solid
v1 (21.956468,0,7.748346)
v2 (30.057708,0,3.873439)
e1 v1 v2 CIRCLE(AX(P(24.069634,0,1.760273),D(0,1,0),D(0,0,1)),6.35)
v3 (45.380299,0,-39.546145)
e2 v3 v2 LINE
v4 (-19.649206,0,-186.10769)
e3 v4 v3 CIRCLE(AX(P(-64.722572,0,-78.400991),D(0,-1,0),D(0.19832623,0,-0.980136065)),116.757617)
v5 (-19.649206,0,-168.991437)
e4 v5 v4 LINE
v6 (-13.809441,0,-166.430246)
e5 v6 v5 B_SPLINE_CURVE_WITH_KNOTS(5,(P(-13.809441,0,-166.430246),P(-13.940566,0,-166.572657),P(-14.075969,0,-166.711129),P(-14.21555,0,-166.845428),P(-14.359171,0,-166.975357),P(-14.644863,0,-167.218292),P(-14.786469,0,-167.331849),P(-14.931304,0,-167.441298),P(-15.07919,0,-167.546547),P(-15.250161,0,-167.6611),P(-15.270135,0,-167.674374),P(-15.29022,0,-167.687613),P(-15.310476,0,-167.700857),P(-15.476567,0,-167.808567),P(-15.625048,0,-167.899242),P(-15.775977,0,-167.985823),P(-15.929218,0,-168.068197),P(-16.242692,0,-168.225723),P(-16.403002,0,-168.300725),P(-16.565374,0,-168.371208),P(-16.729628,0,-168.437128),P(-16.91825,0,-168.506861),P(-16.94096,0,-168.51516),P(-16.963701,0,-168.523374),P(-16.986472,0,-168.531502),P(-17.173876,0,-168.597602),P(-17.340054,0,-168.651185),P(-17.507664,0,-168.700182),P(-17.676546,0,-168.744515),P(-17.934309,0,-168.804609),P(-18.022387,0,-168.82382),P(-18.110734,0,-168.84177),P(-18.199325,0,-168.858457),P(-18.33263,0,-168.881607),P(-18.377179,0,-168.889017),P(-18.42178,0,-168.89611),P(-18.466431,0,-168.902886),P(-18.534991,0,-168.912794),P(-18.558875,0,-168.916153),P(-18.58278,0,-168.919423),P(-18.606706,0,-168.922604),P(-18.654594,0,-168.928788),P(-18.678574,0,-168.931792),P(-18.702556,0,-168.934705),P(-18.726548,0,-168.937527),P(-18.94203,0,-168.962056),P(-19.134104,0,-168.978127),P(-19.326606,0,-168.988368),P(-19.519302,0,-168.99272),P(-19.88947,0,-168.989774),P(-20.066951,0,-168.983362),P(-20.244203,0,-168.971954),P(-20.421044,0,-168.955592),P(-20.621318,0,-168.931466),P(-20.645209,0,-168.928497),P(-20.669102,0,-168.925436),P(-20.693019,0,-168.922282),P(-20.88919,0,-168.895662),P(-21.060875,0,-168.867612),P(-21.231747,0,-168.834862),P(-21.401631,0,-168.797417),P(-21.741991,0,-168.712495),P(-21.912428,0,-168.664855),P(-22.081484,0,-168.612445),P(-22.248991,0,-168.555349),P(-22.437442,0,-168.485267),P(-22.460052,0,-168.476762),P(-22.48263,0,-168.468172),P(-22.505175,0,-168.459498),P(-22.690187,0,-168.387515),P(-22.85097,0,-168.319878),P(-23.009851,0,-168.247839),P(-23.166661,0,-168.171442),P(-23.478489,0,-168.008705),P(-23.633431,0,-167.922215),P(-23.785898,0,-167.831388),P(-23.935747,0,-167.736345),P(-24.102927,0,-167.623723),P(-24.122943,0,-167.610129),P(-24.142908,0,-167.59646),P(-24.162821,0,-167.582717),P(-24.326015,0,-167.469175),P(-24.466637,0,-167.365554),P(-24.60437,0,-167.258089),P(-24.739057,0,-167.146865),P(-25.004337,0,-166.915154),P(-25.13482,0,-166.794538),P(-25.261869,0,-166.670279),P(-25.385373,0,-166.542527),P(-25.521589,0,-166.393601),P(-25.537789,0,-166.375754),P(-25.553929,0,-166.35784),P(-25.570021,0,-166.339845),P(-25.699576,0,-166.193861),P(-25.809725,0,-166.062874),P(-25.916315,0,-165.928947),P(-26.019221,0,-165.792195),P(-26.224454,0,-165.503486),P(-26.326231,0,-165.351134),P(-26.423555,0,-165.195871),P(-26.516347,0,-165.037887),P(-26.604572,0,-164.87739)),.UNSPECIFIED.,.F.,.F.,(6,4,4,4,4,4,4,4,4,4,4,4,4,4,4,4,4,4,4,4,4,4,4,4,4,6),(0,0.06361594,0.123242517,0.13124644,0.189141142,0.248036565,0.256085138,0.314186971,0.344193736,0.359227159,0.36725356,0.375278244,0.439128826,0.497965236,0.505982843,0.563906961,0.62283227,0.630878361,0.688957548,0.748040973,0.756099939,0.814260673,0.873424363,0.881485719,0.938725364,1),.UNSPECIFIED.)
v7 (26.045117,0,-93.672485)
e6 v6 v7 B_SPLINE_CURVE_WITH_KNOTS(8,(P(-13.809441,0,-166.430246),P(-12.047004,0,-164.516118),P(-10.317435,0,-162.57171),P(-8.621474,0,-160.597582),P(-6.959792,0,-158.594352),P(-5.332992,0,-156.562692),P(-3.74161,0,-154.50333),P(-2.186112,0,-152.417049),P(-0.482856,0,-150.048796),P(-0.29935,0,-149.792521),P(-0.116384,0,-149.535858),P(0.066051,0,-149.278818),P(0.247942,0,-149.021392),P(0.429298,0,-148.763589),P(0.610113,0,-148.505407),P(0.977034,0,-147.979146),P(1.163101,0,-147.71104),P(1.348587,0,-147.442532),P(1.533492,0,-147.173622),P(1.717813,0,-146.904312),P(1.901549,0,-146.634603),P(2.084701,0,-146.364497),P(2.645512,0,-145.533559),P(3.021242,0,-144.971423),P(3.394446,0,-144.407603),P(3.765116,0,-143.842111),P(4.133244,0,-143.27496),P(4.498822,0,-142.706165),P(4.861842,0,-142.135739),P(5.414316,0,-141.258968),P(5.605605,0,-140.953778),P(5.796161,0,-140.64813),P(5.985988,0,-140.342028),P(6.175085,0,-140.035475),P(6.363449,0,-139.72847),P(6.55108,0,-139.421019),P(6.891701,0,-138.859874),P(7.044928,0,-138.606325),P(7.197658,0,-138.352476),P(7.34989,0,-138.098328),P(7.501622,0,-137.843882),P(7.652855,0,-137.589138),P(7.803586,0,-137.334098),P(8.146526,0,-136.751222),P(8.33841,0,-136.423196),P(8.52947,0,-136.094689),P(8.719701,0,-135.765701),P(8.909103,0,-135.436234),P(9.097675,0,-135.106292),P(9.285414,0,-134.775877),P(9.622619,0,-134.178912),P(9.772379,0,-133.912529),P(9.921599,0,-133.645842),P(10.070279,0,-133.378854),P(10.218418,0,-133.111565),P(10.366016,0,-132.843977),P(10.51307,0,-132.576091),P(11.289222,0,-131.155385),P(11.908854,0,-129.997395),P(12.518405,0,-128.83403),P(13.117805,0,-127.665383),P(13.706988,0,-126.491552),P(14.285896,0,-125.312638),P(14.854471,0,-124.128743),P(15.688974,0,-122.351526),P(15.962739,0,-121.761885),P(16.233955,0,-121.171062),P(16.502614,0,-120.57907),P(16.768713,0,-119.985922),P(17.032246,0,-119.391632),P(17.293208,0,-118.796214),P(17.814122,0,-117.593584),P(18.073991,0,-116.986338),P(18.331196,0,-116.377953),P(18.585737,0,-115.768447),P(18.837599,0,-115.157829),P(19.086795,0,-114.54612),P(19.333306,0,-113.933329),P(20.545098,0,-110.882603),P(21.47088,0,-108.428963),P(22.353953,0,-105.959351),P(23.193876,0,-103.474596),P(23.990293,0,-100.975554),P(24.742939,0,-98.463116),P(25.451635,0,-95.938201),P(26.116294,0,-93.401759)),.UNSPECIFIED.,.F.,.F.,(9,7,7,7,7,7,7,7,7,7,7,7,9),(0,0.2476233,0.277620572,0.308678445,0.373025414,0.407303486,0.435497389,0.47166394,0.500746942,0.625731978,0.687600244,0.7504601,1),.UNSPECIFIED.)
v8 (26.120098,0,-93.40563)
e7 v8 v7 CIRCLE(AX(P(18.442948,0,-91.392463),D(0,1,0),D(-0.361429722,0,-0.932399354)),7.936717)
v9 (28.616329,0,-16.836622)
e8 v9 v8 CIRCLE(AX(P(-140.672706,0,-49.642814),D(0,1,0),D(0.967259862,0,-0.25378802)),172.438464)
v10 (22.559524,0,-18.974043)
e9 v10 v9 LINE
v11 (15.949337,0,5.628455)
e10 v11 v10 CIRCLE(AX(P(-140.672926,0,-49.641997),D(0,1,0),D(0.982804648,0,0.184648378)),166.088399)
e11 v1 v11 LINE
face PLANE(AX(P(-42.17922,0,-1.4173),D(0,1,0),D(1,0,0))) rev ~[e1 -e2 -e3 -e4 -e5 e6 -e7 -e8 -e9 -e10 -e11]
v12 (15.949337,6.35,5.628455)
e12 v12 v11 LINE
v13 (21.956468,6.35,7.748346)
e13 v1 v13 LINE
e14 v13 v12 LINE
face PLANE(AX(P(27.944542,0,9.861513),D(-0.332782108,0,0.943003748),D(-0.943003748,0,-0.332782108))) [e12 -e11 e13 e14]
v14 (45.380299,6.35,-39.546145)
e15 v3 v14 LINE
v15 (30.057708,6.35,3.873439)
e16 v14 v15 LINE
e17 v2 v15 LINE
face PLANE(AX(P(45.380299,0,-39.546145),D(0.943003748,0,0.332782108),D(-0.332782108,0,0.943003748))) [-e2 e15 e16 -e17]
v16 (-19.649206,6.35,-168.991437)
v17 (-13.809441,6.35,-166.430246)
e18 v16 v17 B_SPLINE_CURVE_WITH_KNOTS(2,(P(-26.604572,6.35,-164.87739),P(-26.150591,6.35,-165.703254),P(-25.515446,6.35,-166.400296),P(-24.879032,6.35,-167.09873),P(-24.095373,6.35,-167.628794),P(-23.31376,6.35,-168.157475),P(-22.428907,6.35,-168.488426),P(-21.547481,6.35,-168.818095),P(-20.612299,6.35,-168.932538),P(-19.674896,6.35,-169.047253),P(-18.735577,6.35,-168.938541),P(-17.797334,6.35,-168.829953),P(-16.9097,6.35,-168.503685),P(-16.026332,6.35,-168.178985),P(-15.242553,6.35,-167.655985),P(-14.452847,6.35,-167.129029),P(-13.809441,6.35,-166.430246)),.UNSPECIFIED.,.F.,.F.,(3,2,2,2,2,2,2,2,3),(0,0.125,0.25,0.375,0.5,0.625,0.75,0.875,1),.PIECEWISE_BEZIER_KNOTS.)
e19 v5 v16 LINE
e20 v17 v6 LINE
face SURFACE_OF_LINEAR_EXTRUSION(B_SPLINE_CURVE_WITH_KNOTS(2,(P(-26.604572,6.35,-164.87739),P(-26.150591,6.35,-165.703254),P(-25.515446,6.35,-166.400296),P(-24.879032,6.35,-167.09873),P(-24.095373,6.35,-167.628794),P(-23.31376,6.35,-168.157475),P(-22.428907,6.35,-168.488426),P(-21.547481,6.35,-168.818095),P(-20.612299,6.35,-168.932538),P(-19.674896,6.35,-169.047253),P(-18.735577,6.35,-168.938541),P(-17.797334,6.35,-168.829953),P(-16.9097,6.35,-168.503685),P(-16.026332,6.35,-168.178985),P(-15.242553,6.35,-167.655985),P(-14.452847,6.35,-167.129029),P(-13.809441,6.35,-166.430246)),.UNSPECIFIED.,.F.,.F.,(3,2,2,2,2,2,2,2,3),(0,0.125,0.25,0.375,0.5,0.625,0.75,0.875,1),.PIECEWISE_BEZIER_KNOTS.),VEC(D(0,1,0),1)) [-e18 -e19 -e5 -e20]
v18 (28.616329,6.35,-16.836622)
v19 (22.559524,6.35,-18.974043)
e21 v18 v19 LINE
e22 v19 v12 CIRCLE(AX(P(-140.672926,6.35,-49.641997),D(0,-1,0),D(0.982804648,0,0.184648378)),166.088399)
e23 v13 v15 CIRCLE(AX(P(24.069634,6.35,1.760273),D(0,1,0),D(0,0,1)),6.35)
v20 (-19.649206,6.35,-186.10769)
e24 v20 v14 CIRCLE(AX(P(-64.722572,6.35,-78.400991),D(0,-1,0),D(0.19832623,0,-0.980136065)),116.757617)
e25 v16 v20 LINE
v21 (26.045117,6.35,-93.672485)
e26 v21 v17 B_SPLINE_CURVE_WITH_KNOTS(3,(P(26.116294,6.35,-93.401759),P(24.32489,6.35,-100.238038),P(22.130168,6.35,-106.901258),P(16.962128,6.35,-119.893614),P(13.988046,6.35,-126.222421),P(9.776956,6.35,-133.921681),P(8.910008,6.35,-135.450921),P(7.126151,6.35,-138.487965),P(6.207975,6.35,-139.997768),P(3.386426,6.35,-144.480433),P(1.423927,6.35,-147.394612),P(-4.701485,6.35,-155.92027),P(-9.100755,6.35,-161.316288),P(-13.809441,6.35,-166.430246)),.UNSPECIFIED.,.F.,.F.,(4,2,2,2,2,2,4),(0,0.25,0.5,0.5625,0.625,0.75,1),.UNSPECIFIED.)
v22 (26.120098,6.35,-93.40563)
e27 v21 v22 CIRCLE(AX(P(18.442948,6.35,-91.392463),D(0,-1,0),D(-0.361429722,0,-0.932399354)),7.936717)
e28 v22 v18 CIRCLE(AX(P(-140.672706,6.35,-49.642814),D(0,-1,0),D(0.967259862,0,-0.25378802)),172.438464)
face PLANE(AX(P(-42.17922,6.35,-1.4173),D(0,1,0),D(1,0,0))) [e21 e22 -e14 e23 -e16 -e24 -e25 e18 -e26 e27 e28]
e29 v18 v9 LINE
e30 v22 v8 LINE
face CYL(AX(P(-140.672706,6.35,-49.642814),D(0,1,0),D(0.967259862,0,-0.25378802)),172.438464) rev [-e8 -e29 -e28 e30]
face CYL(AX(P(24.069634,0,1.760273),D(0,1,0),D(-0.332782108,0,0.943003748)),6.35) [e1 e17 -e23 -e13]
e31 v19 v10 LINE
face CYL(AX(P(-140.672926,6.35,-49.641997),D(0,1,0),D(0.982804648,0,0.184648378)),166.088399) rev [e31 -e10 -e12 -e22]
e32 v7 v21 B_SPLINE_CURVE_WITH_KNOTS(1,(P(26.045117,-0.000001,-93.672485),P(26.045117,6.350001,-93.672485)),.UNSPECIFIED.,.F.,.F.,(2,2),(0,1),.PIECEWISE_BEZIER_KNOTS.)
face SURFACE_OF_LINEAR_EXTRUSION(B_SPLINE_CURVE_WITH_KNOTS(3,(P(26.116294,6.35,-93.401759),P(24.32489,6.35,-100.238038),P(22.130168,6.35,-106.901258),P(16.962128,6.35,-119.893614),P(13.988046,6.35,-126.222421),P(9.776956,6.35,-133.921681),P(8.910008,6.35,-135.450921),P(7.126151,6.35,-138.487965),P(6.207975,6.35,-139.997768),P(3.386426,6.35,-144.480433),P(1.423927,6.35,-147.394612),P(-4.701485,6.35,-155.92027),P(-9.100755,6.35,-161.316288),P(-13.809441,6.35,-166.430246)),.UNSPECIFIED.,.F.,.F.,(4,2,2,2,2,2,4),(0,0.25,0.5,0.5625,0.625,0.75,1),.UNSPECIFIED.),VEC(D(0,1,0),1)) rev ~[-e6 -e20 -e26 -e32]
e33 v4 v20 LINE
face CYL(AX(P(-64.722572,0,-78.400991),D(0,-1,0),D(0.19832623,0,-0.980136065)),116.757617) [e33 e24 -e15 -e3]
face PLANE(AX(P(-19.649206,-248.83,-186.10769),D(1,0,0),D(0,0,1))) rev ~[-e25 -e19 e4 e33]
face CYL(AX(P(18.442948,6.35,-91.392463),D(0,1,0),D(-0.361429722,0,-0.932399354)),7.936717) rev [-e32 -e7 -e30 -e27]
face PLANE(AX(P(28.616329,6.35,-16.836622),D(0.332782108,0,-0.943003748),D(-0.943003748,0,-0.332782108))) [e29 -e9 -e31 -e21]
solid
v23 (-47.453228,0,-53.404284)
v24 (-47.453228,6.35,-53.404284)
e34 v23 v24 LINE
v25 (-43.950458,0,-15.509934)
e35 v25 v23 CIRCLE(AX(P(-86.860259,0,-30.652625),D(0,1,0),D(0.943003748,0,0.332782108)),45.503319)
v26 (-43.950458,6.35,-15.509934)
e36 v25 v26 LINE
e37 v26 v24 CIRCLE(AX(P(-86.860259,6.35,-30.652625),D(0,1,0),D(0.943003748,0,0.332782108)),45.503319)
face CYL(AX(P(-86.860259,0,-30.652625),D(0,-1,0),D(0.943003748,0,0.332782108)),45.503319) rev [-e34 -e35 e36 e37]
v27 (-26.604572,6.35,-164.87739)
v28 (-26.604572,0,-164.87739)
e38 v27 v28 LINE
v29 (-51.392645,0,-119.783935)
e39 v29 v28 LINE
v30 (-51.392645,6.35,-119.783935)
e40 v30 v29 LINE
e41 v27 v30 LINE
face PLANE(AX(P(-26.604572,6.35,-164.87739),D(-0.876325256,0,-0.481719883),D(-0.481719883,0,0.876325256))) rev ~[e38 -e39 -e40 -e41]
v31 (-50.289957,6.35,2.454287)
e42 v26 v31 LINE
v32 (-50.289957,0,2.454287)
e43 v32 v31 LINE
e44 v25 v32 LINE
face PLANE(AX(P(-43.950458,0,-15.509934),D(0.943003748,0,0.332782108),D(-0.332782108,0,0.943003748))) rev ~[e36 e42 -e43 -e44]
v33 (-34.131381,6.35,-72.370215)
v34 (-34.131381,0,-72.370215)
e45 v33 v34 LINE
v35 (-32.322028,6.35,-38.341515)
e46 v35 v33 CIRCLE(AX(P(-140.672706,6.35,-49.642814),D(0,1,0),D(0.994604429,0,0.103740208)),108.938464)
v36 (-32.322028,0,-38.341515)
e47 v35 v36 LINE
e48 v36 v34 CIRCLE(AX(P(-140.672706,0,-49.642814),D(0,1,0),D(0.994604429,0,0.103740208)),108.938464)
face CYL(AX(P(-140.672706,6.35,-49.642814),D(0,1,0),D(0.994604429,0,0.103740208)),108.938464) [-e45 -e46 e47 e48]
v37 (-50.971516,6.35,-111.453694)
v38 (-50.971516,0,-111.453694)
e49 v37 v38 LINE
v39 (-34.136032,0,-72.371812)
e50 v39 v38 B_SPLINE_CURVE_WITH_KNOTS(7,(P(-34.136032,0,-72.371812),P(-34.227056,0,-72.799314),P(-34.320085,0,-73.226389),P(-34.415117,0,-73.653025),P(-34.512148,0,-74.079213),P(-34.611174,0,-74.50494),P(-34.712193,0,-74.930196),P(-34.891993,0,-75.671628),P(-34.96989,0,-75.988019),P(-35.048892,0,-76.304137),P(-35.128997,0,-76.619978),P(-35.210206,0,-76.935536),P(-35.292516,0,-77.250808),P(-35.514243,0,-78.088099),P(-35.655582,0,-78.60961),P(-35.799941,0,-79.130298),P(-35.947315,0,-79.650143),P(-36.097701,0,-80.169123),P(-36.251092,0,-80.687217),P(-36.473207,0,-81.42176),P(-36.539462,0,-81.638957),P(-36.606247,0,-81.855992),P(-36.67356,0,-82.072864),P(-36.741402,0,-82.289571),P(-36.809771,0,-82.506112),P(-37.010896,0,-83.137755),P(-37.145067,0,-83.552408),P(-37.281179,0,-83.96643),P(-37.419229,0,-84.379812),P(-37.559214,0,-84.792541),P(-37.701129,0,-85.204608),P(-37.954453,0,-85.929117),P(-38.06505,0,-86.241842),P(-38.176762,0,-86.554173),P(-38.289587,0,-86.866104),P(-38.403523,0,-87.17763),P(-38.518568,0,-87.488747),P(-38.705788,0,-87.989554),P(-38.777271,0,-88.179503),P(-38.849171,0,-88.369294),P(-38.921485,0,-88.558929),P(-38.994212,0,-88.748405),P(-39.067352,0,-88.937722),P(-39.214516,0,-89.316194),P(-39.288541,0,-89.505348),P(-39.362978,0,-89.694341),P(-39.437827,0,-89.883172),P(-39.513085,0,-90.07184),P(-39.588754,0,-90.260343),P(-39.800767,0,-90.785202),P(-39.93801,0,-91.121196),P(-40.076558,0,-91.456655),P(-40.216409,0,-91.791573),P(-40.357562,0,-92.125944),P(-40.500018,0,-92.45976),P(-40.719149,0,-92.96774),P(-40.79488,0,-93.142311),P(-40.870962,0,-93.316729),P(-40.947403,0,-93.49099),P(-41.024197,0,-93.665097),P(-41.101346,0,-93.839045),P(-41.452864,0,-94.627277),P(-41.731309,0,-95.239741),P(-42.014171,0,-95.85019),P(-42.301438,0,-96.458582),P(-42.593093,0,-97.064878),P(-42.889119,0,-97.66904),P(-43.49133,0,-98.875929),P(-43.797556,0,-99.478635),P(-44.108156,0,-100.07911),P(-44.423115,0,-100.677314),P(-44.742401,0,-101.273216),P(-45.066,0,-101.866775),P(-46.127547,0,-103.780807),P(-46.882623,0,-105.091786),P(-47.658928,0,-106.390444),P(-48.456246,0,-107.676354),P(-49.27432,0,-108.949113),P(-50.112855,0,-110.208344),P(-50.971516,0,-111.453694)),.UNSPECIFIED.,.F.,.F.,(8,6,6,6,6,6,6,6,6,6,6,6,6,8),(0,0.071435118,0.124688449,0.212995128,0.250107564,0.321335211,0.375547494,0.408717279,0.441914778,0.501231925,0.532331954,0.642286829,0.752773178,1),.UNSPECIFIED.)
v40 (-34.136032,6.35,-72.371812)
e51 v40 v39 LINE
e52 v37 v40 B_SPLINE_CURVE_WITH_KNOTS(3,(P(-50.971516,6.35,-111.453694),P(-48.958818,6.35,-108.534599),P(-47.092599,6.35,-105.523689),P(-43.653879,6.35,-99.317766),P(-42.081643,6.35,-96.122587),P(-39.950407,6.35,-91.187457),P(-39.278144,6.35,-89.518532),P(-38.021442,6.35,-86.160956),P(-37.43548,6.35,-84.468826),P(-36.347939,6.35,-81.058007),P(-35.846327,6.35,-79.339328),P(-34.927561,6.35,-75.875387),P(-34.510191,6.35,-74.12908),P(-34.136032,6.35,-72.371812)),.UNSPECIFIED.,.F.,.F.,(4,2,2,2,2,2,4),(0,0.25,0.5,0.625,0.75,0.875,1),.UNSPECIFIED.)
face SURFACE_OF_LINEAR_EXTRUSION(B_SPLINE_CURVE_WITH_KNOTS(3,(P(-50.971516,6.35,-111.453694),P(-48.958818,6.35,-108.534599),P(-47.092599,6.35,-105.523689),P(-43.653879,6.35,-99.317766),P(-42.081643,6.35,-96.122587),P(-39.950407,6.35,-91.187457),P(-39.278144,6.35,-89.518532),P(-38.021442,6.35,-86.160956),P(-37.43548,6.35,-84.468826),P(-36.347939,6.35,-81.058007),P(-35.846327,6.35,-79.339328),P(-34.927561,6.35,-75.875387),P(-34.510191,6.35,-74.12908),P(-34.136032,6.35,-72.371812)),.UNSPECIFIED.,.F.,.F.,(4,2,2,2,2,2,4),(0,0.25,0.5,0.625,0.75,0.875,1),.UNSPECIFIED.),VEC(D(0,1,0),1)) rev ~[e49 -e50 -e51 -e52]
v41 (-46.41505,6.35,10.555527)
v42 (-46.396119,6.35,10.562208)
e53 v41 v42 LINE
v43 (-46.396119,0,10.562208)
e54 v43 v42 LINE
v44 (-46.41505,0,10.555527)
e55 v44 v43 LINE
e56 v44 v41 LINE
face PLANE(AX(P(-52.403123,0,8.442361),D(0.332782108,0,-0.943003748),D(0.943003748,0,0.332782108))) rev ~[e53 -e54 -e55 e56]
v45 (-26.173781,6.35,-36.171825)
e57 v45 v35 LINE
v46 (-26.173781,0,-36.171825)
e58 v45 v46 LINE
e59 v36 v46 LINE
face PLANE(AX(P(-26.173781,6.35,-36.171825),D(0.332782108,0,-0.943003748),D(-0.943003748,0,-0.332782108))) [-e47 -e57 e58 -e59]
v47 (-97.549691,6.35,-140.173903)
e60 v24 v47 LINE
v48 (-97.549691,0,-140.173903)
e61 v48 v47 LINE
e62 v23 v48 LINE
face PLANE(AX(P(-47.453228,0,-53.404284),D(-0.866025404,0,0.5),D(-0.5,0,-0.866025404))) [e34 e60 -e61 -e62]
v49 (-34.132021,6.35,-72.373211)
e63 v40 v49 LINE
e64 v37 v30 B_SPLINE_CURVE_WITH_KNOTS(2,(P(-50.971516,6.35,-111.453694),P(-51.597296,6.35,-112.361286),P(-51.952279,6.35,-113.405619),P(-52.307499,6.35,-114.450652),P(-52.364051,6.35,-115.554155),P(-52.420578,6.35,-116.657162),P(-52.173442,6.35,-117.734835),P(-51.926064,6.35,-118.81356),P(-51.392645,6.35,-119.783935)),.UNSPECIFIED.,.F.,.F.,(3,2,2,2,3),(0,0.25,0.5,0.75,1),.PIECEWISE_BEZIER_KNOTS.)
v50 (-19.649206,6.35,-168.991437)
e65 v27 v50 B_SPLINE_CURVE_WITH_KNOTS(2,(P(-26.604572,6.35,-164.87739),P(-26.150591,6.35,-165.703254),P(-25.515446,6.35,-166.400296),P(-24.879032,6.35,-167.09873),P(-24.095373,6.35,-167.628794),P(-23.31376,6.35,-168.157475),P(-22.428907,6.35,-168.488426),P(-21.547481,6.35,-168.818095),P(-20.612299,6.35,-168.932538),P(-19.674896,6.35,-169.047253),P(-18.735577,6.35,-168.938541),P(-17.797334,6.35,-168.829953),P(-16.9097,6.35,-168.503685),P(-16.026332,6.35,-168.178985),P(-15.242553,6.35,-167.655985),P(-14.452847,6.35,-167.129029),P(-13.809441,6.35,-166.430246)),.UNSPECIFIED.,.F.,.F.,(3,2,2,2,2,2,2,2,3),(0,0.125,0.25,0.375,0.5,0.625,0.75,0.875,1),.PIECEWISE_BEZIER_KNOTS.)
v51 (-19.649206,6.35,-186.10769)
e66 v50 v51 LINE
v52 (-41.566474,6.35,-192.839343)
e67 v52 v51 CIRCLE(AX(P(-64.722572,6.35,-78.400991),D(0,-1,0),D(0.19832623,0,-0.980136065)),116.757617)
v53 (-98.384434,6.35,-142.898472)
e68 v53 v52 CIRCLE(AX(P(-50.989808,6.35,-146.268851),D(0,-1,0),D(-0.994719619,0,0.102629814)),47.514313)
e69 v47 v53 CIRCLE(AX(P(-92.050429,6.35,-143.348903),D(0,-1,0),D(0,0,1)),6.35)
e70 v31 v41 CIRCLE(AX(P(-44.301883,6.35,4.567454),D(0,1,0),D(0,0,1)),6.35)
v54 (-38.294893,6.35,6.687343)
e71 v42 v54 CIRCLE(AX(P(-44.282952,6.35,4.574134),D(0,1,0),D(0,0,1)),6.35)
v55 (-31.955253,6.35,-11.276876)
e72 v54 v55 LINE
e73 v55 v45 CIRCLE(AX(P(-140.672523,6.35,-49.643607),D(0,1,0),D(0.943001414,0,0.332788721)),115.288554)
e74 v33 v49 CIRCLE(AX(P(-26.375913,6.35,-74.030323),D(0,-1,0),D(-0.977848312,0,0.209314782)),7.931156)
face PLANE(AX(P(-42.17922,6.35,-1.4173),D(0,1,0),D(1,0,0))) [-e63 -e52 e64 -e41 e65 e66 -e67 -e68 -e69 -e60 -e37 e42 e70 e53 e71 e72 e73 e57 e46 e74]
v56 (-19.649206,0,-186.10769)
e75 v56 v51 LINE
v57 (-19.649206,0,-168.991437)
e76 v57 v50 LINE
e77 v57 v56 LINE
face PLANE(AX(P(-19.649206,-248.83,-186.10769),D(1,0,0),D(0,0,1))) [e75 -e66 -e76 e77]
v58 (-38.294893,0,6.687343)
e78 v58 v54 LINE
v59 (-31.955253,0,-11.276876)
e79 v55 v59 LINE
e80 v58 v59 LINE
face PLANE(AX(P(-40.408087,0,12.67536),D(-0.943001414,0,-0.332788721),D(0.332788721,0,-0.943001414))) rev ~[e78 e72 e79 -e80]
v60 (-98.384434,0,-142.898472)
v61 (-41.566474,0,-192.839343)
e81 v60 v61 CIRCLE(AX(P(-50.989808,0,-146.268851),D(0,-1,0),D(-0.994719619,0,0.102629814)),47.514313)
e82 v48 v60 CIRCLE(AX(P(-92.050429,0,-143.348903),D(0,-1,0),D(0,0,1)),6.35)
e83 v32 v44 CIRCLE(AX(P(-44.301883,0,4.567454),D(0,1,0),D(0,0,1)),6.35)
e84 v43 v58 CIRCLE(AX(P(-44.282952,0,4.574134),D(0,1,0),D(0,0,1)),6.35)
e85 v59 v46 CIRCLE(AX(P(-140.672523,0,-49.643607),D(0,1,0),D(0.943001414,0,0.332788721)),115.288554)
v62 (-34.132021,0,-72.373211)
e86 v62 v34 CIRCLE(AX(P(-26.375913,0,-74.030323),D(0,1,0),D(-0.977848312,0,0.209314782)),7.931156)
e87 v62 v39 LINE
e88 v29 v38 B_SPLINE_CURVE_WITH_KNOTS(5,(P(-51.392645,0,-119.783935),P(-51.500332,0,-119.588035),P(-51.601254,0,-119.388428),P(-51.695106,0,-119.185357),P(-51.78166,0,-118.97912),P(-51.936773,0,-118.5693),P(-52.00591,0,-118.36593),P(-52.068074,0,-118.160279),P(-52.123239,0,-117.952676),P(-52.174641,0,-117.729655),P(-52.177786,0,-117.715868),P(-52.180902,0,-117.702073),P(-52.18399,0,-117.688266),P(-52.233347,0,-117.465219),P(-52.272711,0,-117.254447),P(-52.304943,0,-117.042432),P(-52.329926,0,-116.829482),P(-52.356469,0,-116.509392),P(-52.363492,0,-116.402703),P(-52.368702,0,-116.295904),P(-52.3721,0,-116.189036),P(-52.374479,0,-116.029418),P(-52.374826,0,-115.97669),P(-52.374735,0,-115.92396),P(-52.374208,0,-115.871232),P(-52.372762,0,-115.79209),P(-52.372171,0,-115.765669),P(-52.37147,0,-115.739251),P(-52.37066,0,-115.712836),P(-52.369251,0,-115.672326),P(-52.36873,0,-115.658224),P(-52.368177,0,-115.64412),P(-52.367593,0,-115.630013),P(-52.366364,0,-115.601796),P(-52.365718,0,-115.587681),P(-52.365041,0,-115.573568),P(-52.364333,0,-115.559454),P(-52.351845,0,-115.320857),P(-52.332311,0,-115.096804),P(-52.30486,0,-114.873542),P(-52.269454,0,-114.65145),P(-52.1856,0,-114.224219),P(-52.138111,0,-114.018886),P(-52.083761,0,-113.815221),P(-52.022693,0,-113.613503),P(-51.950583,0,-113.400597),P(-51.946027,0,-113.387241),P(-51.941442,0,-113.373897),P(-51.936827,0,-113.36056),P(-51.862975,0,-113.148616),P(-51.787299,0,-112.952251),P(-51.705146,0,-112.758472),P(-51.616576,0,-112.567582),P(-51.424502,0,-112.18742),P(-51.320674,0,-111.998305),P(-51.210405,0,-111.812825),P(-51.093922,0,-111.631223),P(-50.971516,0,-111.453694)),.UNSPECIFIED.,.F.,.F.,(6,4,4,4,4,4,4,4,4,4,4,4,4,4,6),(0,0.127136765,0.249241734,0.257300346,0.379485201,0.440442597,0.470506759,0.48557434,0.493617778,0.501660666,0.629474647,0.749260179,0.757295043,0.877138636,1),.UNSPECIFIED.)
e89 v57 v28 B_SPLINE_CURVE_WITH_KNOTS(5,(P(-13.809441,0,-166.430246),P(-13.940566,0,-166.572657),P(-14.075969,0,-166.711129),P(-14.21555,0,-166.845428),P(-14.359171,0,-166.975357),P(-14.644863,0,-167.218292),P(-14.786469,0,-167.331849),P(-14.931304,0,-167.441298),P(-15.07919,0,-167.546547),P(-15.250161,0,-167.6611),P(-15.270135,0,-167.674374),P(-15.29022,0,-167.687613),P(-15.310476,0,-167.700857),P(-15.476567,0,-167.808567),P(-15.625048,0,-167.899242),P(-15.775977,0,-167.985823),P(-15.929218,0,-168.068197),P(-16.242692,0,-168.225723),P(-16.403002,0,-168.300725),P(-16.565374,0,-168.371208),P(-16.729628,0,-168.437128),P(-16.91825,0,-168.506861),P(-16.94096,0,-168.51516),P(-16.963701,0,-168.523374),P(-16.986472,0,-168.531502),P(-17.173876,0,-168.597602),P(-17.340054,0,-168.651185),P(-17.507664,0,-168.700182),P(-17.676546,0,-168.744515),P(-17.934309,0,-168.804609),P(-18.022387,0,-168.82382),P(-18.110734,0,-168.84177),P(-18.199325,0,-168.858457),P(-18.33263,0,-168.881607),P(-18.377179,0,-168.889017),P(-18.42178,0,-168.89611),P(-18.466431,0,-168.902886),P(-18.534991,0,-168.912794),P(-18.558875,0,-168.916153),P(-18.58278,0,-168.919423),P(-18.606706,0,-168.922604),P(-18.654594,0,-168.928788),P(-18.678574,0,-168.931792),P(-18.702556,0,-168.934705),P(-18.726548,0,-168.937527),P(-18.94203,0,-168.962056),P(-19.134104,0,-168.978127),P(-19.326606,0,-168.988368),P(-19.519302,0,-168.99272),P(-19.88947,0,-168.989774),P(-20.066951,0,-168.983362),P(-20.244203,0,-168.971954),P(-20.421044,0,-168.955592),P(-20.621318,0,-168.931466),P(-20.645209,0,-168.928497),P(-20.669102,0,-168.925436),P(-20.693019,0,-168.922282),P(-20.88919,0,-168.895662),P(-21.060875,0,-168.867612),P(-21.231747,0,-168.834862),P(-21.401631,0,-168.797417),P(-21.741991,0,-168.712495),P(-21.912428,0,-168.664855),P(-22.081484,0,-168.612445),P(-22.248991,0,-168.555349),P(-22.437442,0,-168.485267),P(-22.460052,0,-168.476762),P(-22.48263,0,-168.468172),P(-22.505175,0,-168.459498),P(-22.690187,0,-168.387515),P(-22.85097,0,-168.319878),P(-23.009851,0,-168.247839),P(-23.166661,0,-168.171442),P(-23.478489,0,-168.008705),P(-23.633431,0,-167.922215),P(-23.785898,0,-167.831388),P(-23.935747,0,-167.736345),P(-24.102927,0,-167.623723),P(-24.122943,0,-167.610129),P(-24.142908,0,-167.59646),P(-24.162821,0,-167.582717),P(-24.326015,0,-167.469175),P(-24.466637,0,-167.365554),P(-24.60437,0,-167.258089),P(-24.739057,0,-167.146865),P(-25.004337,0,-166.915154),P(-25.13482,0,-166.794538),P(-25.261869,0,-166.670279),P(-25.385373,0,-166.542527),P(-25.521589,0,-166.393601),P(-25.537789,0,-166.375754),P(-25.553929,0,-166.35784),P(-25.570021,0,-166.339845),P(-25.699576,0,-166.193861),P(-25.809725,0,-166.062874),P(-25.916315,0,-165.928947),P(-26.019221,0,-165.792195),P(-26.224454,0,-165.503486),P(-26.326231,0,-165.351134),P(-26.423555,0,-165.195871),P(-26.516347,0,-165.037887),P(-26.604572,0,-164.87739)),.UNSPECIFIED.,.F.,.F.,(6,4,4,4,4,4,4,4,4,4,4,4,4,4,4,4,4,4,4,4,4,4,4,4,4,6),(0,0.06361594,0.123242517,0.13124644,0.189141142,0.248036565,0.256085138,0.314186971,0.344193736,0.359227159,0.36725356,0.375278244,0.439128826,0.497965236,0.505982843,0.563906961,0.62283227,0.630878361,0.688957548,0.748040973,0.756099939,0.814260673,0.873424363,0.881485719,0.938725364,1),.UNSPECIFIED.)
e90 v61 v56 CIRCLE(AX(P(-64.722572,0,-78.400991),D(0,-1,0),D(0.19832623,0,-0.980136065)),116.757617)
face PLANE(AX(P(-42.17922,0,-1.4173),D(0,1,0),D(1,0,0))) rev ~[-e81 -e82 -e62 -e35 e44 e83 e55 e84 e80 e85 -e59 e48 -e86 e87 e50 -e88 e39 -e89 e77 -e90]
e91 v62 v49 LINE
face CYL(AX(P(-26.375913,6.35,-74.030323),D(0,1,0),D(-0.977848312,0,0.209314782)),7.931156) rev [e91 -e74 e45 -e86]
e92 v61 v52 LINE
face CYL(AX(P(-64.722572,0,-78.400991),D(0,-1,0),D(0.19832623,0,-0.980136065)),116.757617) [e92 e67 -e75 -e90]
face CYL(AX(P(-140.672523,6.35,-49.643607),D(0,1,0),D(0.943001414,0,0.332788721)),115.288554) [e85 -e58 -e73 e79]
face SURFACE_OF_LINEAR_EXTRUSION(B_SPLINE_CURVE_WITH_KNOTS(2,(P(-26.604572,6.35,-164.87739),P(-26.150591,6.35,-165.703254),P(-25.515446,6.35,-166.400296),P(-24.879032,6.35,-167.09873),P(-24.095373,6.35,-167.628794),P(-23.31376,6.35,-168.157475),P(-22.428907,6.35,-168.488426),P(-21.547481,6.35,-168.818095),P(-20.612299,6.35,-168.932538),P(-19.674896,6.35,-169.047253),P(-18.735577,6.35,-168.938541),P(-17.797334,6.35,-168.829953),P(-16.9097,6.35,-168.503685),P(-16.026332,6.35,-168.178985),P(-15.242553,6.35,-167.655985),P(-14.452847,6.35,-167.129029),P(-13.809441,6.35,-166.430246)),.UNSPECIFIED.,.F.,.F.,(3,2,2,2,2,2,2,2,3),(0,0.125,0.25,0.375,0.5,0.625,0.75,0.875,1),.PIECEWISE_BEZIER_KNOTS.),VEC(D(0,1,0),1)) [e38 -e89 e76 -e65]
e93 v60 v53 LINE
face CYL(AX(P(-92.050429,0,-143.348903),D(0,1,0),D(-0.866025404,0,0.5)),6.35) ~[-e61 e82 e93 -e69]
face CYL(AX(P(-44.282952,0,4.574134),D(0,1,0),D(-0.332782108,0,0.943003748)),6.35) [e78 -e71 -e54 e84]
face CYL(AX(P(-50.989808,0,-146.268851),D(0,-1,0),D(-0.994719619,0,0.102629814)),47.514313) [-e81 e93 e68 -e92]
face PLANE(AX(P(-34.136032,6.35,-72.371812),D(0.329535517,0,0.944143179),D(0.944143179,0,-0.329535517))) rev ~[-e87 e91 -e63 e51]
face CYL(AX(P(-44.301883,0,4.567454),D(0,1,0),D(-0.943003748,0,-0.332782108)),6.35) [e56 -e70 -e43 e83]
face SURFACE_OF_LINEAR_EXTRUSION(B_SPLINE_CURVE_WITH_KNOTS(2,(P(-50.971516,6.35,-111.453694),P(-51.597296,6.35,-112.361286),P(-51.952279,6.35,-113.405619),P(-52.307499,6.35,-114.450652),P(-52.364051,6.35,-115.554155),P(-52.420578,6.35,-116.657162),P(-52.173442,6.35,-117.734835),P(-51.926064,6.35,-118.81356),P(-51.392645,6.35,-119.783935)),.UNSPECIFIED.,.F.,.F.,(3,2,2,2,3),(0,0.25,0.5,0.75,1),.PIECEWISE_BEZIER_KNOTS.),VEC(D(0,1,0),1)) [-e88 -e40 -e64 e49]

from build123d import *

# Parameters (mm, degrees)
BOSS_EXTRUDE1_DEPTH    = 6.35
CUT_EXTRUDE1_DEPTH     = 218.474824132
CUT_EXTRUDE2_DEPTH     = 218.474824132
BOSS_EXTRUDE2_DEPTH    = 6.35
FILLET1_R              = 6.35
SPLIT1_SURFACE_1_BACK  = 255.18
SPLIT1_SURFACE_1_DEPTH = 510.36
SPLIT1_SURFACE_2_BACK  = 255.18
SPLIT1_SURFACE_2_DEPTH = 510.36


with BuildPart() as part:
    # Sketch1 → Boss-Extrude1 (new body)
    with BuildSketch(Plane(origin=(0, 0, 0), x_dir=(1, 0, 0), z_dir=(0, 1, 0))):
        with BuildLine():
            Line((-47.453228006, 53.404284402), (-98.253228006, 141.392465427))
            ThreePointArc((-98.253228006, 141.392465427), (-82.921975522, 181.453316928), (-41.566473575, 192.839342769))
            ThreePointArc((-41.566473575, 192.839342769), (36.836225704, 136.004392842), (45.380299153, 39.546144899))
            Line((45.380299153, 39.546144899), (27.944541838, -9.861512816))
            Line((27.944541838, -9.861512816), (0, 0))
            Line((0, 0), (-43.950457827, 15.509934128))
            ThreePointArc((-43.950457827, 15.509934128), (-41.550098289, 34.840876427), (-47.453228006, 53.404284402))
        make_face()
    extrude(amount=BOSS_EXTRUDE1_DEPTH)

    # Sketch5 → Cut-Extrude1 (cut, through all)
    with BuildSketch(Plane(origin=(0, 6.35, 0), x_dir=(1, 0, 0), z_dir=(0, 1, 0))):
        with BuildLine():
            Line((-29.23664893, 81.427581144), (15.574383155, 98.792652007))
            ThreePointArc((15.574383155, 98.792652007), (22.053436092, 98.460407789), (26.120098061, 93.405630482))
            ThreePointArc((26.120098061, 93.405630482), (31.67419382, 55.261505814), (28.616328902, 16.836622098))
            Line((28.616328902, 16.836622098), (22.559524164, 18.974043348))
            ThreePointArc((22.559524164, 18.974043348), (19.726825076, 6.545871538), (15.949337201, -5.628454892))
            Line((15.949337201, -5.628454892), (-31.95525319, 11.276876204))
            ThreePointArc((-31.95525319, 11.276876204), (-28.372538305, 23.563648828), (-26.173781301, 36.171824553))
            Line((-26.173781301, 36.171824553), (-32.322028113, 38.341515332))
            ThreePointArc((-32.322028113, 38.341515332), (-31.887912186, 55.427050363), (-34.131380562, 72.370214577))
            ThreePointArc((-34.131380562, 72.370214577), (-33.353370645, 77.801041885), (-29.23664893, 81.427581144))
        make_face()
    extrude(amount=-CUT_EXTRUDE1_DEPTH, mode=Mode.SUBTRACT)

    # Sketch6 → Cut-Extrude2 (cut, through all)
    with BuildSketch(Plane(origin=(0, 6.35, 0), x_dir=(1, 0, 0), z_dir=(0, 1, 0))):
        with BuildLine():
            Line((-34.136031583, 72.371811773), (26.116293886, 93.401758977))
            add(Edge.make_bspline(
                [(26.116293886, 93.401758977), (24.324889601, 100.23803776), (22.130168151, 106.901258397), (16.96212823, 119.893613822), (13.988046064, 126.222420918), (9.776956475, 133.921680991), (8.910007749, 135.450921337), (7.126151123, 138.487965199), (6.207974968, 139.997768114), (3.386426272, 144.480432789), (1.42392697, 147.394611788), (-4.701484626, 155.920269738), (-9.100754748, 161.316287945), (-13.809441186, 166.430246232)],
                knots=[0, 0, 0, 0, 0.25, 0.25, 0.5, 0.5, 0.5625, 0.5625, 0.625, 0.625, 0.75, 0.75, 1, 1, 1, 1], degree=3))
            add(Edge.make_bspline(
                [(-26.604572492, 164.8773905), (-26.150591479, 165.703254328), (-25.515446259, 166.400295605), (-24.879031904, 167.098729697), (-24.095373437, 167.628794259), (-23.313760397, 168.1574753), (-22.428907317, 168.488425961), (-21.547481327, 168.818094831), (-20.612298709, 168.932538075), (-19.674896196, 169.047252981), (-18.735576663, 168.938540794), (-17.797334242, 168.829953267), (-16.909699728, 168.503685222), (-16.026331795, 168.178985445), (-15.242553256, 167.655985099), (-14.452846951, 167.129029268), (-13.809441186, 166.430246232)],
                knots=[0, 0, 0, 0.125, 0.125, 0.25, 0.25, 0.375, 0.375, 0.5, 0.5, 0.625, 0.625, 0.75, 0.75, 0.875, 0.875, 1, 1, 1], degree=2))
            Line((-26.604572492, 164.8773905), (-51.39264493, 119.783935416))
            add(Edge.make_bspline(
                [(-50.971516495, 111.453693883), (-51.597295758, 112.361285599), (-51.952278538, 113.405618938), (-52.307499269, 114.450652309), (-52.364051333, 115.554155451), (-52.420577964, 116.657162304), (-52.173441916, 117.734834771), (-51.926064332, 118.813560494), (-51.39264493, 119.783935416)],
                knots=[0, 0, 0, 0.25, 0.25, 0.5, 0.5, 0.75, 0.75, 1, 1, 1], degree=2))
            add(Edge.make_bspline(
                [(-50.971516495, 111.453693883), (-48.958817602, 108.534599247), (-47.092599274, 105.523689489), (-43.653878745, 99.317766492), (-42.08164257, 96.122586505), (-39.950407344, 91.187456603), (-39.27814351, 89.518531936), (-38.021441634, 86.160956199), (-37.435479748, 84.468826365), (-36.34793939, 81.058006993), (-35.846327383, 79.339328012), (-34.927561091, 75.875386956), (-34.510190541, 74.129079907), (-34.136031583, 72.371811773)],
                knots=[0, 0, 0, 0, 0.25, 0.25, 0.5, 0.5, 0.625, 0.625, 0.75, 0.75, 0.875, 0.875, 1, 1, 1, 1], degree=3))
        make_face()
    extrude(amount=-CUT_EXTRUDE2_DEPTH, mode=Mode.SUBTRACT)

    # Sketch7 → Boss-Extrude2 (add)
    with BuildSketch(Plane(origin=(0, 0, 0), x_dir=(1, 0, 0), z_dir=(0, 1, 0))):
        Polygon((-43.950457827, 15.509934128), (-52.403123375, -8.442361068), (-40.408086707, -12.675359716), (-31.95525319, 11.276876204), align=None)
    extrude(amount=BOSS_EXTRUDE2_DEPTH)

    # Fillet1
    fillet1_edges = [part.edges().sort_by_distance(p)[0] for p in [
        (-98.253228006, 3.175, -141.392465427),
        (27.944541838, 3.175, 9.861512816),
        (-52.403123375, 3.175, 8.442361068),
        (-40.408086707, 3.175, 12.675359716),
    ]]
    fillet(fillet1_edges, radius=FILLET1_R)


with BuildPart() as body_2:
    # Split1: the piece behind the surface
    add(part.part)
    # Split1 surface: a surface, the sketch's curves swept straight by 510.36 mm
    with BuildLine(Plane(origin=(0, 6.35, 0), x_dir=(1, 0, 0), z_dir=(0, 1, 0)).offset(-SPLIT1_SURFACE_1_BACK), mode=Mode.PRIVATE) as split1_surface_1_path:
        Line((-19.649206058, 186.1076897), (-19.649206058, 168.991436526))
    split1_surface_1 = Shell.extrude(split1_surface_1_path.wire(), (0 * SPLIT1_SURFACE_1_DEPTH, 1 * SPLIT1_SURFACE_1_DEPTH, 0 * SPLIT1_SURFACE_1_DEPTH))
    split(bisect_by=split1_surface_1, keep=Keep.BOTTOM)


with BuildPart() as part_1:
    add(part.part)

    # Split1: split by a surface, the side it looks to stays
    # Split1 surface: a surface, the sketch's curves swept straight by 510.36 mm
    with BuildLine(Plane(origin=(0, 6.35, 0), x_dir=(1, 0, 0), z_dir=(0, 1, 0)).offset(-SPLIT1_SURFACE_2_BACK), mode=Mode.PRIVATE) as split1_surface_2_path:
        Line((-19.649206058, 186.1076897), (-19.649206058, 168.991436526))
    split1_surface_2 = Shell.extrude(split1_surface_2_path.wire(), (0 * SPLIT1_SURFACE_2_DEPTH, 1 * SPLIT1_SURFACE_2_DEPTH, 0 * SPLIT1_SURFACE_2_DEPTH))
    split(bisect_by=split1_surface_2, keep=Keep.TOP)


solid = Compound([body_2.part, part_1.part])
